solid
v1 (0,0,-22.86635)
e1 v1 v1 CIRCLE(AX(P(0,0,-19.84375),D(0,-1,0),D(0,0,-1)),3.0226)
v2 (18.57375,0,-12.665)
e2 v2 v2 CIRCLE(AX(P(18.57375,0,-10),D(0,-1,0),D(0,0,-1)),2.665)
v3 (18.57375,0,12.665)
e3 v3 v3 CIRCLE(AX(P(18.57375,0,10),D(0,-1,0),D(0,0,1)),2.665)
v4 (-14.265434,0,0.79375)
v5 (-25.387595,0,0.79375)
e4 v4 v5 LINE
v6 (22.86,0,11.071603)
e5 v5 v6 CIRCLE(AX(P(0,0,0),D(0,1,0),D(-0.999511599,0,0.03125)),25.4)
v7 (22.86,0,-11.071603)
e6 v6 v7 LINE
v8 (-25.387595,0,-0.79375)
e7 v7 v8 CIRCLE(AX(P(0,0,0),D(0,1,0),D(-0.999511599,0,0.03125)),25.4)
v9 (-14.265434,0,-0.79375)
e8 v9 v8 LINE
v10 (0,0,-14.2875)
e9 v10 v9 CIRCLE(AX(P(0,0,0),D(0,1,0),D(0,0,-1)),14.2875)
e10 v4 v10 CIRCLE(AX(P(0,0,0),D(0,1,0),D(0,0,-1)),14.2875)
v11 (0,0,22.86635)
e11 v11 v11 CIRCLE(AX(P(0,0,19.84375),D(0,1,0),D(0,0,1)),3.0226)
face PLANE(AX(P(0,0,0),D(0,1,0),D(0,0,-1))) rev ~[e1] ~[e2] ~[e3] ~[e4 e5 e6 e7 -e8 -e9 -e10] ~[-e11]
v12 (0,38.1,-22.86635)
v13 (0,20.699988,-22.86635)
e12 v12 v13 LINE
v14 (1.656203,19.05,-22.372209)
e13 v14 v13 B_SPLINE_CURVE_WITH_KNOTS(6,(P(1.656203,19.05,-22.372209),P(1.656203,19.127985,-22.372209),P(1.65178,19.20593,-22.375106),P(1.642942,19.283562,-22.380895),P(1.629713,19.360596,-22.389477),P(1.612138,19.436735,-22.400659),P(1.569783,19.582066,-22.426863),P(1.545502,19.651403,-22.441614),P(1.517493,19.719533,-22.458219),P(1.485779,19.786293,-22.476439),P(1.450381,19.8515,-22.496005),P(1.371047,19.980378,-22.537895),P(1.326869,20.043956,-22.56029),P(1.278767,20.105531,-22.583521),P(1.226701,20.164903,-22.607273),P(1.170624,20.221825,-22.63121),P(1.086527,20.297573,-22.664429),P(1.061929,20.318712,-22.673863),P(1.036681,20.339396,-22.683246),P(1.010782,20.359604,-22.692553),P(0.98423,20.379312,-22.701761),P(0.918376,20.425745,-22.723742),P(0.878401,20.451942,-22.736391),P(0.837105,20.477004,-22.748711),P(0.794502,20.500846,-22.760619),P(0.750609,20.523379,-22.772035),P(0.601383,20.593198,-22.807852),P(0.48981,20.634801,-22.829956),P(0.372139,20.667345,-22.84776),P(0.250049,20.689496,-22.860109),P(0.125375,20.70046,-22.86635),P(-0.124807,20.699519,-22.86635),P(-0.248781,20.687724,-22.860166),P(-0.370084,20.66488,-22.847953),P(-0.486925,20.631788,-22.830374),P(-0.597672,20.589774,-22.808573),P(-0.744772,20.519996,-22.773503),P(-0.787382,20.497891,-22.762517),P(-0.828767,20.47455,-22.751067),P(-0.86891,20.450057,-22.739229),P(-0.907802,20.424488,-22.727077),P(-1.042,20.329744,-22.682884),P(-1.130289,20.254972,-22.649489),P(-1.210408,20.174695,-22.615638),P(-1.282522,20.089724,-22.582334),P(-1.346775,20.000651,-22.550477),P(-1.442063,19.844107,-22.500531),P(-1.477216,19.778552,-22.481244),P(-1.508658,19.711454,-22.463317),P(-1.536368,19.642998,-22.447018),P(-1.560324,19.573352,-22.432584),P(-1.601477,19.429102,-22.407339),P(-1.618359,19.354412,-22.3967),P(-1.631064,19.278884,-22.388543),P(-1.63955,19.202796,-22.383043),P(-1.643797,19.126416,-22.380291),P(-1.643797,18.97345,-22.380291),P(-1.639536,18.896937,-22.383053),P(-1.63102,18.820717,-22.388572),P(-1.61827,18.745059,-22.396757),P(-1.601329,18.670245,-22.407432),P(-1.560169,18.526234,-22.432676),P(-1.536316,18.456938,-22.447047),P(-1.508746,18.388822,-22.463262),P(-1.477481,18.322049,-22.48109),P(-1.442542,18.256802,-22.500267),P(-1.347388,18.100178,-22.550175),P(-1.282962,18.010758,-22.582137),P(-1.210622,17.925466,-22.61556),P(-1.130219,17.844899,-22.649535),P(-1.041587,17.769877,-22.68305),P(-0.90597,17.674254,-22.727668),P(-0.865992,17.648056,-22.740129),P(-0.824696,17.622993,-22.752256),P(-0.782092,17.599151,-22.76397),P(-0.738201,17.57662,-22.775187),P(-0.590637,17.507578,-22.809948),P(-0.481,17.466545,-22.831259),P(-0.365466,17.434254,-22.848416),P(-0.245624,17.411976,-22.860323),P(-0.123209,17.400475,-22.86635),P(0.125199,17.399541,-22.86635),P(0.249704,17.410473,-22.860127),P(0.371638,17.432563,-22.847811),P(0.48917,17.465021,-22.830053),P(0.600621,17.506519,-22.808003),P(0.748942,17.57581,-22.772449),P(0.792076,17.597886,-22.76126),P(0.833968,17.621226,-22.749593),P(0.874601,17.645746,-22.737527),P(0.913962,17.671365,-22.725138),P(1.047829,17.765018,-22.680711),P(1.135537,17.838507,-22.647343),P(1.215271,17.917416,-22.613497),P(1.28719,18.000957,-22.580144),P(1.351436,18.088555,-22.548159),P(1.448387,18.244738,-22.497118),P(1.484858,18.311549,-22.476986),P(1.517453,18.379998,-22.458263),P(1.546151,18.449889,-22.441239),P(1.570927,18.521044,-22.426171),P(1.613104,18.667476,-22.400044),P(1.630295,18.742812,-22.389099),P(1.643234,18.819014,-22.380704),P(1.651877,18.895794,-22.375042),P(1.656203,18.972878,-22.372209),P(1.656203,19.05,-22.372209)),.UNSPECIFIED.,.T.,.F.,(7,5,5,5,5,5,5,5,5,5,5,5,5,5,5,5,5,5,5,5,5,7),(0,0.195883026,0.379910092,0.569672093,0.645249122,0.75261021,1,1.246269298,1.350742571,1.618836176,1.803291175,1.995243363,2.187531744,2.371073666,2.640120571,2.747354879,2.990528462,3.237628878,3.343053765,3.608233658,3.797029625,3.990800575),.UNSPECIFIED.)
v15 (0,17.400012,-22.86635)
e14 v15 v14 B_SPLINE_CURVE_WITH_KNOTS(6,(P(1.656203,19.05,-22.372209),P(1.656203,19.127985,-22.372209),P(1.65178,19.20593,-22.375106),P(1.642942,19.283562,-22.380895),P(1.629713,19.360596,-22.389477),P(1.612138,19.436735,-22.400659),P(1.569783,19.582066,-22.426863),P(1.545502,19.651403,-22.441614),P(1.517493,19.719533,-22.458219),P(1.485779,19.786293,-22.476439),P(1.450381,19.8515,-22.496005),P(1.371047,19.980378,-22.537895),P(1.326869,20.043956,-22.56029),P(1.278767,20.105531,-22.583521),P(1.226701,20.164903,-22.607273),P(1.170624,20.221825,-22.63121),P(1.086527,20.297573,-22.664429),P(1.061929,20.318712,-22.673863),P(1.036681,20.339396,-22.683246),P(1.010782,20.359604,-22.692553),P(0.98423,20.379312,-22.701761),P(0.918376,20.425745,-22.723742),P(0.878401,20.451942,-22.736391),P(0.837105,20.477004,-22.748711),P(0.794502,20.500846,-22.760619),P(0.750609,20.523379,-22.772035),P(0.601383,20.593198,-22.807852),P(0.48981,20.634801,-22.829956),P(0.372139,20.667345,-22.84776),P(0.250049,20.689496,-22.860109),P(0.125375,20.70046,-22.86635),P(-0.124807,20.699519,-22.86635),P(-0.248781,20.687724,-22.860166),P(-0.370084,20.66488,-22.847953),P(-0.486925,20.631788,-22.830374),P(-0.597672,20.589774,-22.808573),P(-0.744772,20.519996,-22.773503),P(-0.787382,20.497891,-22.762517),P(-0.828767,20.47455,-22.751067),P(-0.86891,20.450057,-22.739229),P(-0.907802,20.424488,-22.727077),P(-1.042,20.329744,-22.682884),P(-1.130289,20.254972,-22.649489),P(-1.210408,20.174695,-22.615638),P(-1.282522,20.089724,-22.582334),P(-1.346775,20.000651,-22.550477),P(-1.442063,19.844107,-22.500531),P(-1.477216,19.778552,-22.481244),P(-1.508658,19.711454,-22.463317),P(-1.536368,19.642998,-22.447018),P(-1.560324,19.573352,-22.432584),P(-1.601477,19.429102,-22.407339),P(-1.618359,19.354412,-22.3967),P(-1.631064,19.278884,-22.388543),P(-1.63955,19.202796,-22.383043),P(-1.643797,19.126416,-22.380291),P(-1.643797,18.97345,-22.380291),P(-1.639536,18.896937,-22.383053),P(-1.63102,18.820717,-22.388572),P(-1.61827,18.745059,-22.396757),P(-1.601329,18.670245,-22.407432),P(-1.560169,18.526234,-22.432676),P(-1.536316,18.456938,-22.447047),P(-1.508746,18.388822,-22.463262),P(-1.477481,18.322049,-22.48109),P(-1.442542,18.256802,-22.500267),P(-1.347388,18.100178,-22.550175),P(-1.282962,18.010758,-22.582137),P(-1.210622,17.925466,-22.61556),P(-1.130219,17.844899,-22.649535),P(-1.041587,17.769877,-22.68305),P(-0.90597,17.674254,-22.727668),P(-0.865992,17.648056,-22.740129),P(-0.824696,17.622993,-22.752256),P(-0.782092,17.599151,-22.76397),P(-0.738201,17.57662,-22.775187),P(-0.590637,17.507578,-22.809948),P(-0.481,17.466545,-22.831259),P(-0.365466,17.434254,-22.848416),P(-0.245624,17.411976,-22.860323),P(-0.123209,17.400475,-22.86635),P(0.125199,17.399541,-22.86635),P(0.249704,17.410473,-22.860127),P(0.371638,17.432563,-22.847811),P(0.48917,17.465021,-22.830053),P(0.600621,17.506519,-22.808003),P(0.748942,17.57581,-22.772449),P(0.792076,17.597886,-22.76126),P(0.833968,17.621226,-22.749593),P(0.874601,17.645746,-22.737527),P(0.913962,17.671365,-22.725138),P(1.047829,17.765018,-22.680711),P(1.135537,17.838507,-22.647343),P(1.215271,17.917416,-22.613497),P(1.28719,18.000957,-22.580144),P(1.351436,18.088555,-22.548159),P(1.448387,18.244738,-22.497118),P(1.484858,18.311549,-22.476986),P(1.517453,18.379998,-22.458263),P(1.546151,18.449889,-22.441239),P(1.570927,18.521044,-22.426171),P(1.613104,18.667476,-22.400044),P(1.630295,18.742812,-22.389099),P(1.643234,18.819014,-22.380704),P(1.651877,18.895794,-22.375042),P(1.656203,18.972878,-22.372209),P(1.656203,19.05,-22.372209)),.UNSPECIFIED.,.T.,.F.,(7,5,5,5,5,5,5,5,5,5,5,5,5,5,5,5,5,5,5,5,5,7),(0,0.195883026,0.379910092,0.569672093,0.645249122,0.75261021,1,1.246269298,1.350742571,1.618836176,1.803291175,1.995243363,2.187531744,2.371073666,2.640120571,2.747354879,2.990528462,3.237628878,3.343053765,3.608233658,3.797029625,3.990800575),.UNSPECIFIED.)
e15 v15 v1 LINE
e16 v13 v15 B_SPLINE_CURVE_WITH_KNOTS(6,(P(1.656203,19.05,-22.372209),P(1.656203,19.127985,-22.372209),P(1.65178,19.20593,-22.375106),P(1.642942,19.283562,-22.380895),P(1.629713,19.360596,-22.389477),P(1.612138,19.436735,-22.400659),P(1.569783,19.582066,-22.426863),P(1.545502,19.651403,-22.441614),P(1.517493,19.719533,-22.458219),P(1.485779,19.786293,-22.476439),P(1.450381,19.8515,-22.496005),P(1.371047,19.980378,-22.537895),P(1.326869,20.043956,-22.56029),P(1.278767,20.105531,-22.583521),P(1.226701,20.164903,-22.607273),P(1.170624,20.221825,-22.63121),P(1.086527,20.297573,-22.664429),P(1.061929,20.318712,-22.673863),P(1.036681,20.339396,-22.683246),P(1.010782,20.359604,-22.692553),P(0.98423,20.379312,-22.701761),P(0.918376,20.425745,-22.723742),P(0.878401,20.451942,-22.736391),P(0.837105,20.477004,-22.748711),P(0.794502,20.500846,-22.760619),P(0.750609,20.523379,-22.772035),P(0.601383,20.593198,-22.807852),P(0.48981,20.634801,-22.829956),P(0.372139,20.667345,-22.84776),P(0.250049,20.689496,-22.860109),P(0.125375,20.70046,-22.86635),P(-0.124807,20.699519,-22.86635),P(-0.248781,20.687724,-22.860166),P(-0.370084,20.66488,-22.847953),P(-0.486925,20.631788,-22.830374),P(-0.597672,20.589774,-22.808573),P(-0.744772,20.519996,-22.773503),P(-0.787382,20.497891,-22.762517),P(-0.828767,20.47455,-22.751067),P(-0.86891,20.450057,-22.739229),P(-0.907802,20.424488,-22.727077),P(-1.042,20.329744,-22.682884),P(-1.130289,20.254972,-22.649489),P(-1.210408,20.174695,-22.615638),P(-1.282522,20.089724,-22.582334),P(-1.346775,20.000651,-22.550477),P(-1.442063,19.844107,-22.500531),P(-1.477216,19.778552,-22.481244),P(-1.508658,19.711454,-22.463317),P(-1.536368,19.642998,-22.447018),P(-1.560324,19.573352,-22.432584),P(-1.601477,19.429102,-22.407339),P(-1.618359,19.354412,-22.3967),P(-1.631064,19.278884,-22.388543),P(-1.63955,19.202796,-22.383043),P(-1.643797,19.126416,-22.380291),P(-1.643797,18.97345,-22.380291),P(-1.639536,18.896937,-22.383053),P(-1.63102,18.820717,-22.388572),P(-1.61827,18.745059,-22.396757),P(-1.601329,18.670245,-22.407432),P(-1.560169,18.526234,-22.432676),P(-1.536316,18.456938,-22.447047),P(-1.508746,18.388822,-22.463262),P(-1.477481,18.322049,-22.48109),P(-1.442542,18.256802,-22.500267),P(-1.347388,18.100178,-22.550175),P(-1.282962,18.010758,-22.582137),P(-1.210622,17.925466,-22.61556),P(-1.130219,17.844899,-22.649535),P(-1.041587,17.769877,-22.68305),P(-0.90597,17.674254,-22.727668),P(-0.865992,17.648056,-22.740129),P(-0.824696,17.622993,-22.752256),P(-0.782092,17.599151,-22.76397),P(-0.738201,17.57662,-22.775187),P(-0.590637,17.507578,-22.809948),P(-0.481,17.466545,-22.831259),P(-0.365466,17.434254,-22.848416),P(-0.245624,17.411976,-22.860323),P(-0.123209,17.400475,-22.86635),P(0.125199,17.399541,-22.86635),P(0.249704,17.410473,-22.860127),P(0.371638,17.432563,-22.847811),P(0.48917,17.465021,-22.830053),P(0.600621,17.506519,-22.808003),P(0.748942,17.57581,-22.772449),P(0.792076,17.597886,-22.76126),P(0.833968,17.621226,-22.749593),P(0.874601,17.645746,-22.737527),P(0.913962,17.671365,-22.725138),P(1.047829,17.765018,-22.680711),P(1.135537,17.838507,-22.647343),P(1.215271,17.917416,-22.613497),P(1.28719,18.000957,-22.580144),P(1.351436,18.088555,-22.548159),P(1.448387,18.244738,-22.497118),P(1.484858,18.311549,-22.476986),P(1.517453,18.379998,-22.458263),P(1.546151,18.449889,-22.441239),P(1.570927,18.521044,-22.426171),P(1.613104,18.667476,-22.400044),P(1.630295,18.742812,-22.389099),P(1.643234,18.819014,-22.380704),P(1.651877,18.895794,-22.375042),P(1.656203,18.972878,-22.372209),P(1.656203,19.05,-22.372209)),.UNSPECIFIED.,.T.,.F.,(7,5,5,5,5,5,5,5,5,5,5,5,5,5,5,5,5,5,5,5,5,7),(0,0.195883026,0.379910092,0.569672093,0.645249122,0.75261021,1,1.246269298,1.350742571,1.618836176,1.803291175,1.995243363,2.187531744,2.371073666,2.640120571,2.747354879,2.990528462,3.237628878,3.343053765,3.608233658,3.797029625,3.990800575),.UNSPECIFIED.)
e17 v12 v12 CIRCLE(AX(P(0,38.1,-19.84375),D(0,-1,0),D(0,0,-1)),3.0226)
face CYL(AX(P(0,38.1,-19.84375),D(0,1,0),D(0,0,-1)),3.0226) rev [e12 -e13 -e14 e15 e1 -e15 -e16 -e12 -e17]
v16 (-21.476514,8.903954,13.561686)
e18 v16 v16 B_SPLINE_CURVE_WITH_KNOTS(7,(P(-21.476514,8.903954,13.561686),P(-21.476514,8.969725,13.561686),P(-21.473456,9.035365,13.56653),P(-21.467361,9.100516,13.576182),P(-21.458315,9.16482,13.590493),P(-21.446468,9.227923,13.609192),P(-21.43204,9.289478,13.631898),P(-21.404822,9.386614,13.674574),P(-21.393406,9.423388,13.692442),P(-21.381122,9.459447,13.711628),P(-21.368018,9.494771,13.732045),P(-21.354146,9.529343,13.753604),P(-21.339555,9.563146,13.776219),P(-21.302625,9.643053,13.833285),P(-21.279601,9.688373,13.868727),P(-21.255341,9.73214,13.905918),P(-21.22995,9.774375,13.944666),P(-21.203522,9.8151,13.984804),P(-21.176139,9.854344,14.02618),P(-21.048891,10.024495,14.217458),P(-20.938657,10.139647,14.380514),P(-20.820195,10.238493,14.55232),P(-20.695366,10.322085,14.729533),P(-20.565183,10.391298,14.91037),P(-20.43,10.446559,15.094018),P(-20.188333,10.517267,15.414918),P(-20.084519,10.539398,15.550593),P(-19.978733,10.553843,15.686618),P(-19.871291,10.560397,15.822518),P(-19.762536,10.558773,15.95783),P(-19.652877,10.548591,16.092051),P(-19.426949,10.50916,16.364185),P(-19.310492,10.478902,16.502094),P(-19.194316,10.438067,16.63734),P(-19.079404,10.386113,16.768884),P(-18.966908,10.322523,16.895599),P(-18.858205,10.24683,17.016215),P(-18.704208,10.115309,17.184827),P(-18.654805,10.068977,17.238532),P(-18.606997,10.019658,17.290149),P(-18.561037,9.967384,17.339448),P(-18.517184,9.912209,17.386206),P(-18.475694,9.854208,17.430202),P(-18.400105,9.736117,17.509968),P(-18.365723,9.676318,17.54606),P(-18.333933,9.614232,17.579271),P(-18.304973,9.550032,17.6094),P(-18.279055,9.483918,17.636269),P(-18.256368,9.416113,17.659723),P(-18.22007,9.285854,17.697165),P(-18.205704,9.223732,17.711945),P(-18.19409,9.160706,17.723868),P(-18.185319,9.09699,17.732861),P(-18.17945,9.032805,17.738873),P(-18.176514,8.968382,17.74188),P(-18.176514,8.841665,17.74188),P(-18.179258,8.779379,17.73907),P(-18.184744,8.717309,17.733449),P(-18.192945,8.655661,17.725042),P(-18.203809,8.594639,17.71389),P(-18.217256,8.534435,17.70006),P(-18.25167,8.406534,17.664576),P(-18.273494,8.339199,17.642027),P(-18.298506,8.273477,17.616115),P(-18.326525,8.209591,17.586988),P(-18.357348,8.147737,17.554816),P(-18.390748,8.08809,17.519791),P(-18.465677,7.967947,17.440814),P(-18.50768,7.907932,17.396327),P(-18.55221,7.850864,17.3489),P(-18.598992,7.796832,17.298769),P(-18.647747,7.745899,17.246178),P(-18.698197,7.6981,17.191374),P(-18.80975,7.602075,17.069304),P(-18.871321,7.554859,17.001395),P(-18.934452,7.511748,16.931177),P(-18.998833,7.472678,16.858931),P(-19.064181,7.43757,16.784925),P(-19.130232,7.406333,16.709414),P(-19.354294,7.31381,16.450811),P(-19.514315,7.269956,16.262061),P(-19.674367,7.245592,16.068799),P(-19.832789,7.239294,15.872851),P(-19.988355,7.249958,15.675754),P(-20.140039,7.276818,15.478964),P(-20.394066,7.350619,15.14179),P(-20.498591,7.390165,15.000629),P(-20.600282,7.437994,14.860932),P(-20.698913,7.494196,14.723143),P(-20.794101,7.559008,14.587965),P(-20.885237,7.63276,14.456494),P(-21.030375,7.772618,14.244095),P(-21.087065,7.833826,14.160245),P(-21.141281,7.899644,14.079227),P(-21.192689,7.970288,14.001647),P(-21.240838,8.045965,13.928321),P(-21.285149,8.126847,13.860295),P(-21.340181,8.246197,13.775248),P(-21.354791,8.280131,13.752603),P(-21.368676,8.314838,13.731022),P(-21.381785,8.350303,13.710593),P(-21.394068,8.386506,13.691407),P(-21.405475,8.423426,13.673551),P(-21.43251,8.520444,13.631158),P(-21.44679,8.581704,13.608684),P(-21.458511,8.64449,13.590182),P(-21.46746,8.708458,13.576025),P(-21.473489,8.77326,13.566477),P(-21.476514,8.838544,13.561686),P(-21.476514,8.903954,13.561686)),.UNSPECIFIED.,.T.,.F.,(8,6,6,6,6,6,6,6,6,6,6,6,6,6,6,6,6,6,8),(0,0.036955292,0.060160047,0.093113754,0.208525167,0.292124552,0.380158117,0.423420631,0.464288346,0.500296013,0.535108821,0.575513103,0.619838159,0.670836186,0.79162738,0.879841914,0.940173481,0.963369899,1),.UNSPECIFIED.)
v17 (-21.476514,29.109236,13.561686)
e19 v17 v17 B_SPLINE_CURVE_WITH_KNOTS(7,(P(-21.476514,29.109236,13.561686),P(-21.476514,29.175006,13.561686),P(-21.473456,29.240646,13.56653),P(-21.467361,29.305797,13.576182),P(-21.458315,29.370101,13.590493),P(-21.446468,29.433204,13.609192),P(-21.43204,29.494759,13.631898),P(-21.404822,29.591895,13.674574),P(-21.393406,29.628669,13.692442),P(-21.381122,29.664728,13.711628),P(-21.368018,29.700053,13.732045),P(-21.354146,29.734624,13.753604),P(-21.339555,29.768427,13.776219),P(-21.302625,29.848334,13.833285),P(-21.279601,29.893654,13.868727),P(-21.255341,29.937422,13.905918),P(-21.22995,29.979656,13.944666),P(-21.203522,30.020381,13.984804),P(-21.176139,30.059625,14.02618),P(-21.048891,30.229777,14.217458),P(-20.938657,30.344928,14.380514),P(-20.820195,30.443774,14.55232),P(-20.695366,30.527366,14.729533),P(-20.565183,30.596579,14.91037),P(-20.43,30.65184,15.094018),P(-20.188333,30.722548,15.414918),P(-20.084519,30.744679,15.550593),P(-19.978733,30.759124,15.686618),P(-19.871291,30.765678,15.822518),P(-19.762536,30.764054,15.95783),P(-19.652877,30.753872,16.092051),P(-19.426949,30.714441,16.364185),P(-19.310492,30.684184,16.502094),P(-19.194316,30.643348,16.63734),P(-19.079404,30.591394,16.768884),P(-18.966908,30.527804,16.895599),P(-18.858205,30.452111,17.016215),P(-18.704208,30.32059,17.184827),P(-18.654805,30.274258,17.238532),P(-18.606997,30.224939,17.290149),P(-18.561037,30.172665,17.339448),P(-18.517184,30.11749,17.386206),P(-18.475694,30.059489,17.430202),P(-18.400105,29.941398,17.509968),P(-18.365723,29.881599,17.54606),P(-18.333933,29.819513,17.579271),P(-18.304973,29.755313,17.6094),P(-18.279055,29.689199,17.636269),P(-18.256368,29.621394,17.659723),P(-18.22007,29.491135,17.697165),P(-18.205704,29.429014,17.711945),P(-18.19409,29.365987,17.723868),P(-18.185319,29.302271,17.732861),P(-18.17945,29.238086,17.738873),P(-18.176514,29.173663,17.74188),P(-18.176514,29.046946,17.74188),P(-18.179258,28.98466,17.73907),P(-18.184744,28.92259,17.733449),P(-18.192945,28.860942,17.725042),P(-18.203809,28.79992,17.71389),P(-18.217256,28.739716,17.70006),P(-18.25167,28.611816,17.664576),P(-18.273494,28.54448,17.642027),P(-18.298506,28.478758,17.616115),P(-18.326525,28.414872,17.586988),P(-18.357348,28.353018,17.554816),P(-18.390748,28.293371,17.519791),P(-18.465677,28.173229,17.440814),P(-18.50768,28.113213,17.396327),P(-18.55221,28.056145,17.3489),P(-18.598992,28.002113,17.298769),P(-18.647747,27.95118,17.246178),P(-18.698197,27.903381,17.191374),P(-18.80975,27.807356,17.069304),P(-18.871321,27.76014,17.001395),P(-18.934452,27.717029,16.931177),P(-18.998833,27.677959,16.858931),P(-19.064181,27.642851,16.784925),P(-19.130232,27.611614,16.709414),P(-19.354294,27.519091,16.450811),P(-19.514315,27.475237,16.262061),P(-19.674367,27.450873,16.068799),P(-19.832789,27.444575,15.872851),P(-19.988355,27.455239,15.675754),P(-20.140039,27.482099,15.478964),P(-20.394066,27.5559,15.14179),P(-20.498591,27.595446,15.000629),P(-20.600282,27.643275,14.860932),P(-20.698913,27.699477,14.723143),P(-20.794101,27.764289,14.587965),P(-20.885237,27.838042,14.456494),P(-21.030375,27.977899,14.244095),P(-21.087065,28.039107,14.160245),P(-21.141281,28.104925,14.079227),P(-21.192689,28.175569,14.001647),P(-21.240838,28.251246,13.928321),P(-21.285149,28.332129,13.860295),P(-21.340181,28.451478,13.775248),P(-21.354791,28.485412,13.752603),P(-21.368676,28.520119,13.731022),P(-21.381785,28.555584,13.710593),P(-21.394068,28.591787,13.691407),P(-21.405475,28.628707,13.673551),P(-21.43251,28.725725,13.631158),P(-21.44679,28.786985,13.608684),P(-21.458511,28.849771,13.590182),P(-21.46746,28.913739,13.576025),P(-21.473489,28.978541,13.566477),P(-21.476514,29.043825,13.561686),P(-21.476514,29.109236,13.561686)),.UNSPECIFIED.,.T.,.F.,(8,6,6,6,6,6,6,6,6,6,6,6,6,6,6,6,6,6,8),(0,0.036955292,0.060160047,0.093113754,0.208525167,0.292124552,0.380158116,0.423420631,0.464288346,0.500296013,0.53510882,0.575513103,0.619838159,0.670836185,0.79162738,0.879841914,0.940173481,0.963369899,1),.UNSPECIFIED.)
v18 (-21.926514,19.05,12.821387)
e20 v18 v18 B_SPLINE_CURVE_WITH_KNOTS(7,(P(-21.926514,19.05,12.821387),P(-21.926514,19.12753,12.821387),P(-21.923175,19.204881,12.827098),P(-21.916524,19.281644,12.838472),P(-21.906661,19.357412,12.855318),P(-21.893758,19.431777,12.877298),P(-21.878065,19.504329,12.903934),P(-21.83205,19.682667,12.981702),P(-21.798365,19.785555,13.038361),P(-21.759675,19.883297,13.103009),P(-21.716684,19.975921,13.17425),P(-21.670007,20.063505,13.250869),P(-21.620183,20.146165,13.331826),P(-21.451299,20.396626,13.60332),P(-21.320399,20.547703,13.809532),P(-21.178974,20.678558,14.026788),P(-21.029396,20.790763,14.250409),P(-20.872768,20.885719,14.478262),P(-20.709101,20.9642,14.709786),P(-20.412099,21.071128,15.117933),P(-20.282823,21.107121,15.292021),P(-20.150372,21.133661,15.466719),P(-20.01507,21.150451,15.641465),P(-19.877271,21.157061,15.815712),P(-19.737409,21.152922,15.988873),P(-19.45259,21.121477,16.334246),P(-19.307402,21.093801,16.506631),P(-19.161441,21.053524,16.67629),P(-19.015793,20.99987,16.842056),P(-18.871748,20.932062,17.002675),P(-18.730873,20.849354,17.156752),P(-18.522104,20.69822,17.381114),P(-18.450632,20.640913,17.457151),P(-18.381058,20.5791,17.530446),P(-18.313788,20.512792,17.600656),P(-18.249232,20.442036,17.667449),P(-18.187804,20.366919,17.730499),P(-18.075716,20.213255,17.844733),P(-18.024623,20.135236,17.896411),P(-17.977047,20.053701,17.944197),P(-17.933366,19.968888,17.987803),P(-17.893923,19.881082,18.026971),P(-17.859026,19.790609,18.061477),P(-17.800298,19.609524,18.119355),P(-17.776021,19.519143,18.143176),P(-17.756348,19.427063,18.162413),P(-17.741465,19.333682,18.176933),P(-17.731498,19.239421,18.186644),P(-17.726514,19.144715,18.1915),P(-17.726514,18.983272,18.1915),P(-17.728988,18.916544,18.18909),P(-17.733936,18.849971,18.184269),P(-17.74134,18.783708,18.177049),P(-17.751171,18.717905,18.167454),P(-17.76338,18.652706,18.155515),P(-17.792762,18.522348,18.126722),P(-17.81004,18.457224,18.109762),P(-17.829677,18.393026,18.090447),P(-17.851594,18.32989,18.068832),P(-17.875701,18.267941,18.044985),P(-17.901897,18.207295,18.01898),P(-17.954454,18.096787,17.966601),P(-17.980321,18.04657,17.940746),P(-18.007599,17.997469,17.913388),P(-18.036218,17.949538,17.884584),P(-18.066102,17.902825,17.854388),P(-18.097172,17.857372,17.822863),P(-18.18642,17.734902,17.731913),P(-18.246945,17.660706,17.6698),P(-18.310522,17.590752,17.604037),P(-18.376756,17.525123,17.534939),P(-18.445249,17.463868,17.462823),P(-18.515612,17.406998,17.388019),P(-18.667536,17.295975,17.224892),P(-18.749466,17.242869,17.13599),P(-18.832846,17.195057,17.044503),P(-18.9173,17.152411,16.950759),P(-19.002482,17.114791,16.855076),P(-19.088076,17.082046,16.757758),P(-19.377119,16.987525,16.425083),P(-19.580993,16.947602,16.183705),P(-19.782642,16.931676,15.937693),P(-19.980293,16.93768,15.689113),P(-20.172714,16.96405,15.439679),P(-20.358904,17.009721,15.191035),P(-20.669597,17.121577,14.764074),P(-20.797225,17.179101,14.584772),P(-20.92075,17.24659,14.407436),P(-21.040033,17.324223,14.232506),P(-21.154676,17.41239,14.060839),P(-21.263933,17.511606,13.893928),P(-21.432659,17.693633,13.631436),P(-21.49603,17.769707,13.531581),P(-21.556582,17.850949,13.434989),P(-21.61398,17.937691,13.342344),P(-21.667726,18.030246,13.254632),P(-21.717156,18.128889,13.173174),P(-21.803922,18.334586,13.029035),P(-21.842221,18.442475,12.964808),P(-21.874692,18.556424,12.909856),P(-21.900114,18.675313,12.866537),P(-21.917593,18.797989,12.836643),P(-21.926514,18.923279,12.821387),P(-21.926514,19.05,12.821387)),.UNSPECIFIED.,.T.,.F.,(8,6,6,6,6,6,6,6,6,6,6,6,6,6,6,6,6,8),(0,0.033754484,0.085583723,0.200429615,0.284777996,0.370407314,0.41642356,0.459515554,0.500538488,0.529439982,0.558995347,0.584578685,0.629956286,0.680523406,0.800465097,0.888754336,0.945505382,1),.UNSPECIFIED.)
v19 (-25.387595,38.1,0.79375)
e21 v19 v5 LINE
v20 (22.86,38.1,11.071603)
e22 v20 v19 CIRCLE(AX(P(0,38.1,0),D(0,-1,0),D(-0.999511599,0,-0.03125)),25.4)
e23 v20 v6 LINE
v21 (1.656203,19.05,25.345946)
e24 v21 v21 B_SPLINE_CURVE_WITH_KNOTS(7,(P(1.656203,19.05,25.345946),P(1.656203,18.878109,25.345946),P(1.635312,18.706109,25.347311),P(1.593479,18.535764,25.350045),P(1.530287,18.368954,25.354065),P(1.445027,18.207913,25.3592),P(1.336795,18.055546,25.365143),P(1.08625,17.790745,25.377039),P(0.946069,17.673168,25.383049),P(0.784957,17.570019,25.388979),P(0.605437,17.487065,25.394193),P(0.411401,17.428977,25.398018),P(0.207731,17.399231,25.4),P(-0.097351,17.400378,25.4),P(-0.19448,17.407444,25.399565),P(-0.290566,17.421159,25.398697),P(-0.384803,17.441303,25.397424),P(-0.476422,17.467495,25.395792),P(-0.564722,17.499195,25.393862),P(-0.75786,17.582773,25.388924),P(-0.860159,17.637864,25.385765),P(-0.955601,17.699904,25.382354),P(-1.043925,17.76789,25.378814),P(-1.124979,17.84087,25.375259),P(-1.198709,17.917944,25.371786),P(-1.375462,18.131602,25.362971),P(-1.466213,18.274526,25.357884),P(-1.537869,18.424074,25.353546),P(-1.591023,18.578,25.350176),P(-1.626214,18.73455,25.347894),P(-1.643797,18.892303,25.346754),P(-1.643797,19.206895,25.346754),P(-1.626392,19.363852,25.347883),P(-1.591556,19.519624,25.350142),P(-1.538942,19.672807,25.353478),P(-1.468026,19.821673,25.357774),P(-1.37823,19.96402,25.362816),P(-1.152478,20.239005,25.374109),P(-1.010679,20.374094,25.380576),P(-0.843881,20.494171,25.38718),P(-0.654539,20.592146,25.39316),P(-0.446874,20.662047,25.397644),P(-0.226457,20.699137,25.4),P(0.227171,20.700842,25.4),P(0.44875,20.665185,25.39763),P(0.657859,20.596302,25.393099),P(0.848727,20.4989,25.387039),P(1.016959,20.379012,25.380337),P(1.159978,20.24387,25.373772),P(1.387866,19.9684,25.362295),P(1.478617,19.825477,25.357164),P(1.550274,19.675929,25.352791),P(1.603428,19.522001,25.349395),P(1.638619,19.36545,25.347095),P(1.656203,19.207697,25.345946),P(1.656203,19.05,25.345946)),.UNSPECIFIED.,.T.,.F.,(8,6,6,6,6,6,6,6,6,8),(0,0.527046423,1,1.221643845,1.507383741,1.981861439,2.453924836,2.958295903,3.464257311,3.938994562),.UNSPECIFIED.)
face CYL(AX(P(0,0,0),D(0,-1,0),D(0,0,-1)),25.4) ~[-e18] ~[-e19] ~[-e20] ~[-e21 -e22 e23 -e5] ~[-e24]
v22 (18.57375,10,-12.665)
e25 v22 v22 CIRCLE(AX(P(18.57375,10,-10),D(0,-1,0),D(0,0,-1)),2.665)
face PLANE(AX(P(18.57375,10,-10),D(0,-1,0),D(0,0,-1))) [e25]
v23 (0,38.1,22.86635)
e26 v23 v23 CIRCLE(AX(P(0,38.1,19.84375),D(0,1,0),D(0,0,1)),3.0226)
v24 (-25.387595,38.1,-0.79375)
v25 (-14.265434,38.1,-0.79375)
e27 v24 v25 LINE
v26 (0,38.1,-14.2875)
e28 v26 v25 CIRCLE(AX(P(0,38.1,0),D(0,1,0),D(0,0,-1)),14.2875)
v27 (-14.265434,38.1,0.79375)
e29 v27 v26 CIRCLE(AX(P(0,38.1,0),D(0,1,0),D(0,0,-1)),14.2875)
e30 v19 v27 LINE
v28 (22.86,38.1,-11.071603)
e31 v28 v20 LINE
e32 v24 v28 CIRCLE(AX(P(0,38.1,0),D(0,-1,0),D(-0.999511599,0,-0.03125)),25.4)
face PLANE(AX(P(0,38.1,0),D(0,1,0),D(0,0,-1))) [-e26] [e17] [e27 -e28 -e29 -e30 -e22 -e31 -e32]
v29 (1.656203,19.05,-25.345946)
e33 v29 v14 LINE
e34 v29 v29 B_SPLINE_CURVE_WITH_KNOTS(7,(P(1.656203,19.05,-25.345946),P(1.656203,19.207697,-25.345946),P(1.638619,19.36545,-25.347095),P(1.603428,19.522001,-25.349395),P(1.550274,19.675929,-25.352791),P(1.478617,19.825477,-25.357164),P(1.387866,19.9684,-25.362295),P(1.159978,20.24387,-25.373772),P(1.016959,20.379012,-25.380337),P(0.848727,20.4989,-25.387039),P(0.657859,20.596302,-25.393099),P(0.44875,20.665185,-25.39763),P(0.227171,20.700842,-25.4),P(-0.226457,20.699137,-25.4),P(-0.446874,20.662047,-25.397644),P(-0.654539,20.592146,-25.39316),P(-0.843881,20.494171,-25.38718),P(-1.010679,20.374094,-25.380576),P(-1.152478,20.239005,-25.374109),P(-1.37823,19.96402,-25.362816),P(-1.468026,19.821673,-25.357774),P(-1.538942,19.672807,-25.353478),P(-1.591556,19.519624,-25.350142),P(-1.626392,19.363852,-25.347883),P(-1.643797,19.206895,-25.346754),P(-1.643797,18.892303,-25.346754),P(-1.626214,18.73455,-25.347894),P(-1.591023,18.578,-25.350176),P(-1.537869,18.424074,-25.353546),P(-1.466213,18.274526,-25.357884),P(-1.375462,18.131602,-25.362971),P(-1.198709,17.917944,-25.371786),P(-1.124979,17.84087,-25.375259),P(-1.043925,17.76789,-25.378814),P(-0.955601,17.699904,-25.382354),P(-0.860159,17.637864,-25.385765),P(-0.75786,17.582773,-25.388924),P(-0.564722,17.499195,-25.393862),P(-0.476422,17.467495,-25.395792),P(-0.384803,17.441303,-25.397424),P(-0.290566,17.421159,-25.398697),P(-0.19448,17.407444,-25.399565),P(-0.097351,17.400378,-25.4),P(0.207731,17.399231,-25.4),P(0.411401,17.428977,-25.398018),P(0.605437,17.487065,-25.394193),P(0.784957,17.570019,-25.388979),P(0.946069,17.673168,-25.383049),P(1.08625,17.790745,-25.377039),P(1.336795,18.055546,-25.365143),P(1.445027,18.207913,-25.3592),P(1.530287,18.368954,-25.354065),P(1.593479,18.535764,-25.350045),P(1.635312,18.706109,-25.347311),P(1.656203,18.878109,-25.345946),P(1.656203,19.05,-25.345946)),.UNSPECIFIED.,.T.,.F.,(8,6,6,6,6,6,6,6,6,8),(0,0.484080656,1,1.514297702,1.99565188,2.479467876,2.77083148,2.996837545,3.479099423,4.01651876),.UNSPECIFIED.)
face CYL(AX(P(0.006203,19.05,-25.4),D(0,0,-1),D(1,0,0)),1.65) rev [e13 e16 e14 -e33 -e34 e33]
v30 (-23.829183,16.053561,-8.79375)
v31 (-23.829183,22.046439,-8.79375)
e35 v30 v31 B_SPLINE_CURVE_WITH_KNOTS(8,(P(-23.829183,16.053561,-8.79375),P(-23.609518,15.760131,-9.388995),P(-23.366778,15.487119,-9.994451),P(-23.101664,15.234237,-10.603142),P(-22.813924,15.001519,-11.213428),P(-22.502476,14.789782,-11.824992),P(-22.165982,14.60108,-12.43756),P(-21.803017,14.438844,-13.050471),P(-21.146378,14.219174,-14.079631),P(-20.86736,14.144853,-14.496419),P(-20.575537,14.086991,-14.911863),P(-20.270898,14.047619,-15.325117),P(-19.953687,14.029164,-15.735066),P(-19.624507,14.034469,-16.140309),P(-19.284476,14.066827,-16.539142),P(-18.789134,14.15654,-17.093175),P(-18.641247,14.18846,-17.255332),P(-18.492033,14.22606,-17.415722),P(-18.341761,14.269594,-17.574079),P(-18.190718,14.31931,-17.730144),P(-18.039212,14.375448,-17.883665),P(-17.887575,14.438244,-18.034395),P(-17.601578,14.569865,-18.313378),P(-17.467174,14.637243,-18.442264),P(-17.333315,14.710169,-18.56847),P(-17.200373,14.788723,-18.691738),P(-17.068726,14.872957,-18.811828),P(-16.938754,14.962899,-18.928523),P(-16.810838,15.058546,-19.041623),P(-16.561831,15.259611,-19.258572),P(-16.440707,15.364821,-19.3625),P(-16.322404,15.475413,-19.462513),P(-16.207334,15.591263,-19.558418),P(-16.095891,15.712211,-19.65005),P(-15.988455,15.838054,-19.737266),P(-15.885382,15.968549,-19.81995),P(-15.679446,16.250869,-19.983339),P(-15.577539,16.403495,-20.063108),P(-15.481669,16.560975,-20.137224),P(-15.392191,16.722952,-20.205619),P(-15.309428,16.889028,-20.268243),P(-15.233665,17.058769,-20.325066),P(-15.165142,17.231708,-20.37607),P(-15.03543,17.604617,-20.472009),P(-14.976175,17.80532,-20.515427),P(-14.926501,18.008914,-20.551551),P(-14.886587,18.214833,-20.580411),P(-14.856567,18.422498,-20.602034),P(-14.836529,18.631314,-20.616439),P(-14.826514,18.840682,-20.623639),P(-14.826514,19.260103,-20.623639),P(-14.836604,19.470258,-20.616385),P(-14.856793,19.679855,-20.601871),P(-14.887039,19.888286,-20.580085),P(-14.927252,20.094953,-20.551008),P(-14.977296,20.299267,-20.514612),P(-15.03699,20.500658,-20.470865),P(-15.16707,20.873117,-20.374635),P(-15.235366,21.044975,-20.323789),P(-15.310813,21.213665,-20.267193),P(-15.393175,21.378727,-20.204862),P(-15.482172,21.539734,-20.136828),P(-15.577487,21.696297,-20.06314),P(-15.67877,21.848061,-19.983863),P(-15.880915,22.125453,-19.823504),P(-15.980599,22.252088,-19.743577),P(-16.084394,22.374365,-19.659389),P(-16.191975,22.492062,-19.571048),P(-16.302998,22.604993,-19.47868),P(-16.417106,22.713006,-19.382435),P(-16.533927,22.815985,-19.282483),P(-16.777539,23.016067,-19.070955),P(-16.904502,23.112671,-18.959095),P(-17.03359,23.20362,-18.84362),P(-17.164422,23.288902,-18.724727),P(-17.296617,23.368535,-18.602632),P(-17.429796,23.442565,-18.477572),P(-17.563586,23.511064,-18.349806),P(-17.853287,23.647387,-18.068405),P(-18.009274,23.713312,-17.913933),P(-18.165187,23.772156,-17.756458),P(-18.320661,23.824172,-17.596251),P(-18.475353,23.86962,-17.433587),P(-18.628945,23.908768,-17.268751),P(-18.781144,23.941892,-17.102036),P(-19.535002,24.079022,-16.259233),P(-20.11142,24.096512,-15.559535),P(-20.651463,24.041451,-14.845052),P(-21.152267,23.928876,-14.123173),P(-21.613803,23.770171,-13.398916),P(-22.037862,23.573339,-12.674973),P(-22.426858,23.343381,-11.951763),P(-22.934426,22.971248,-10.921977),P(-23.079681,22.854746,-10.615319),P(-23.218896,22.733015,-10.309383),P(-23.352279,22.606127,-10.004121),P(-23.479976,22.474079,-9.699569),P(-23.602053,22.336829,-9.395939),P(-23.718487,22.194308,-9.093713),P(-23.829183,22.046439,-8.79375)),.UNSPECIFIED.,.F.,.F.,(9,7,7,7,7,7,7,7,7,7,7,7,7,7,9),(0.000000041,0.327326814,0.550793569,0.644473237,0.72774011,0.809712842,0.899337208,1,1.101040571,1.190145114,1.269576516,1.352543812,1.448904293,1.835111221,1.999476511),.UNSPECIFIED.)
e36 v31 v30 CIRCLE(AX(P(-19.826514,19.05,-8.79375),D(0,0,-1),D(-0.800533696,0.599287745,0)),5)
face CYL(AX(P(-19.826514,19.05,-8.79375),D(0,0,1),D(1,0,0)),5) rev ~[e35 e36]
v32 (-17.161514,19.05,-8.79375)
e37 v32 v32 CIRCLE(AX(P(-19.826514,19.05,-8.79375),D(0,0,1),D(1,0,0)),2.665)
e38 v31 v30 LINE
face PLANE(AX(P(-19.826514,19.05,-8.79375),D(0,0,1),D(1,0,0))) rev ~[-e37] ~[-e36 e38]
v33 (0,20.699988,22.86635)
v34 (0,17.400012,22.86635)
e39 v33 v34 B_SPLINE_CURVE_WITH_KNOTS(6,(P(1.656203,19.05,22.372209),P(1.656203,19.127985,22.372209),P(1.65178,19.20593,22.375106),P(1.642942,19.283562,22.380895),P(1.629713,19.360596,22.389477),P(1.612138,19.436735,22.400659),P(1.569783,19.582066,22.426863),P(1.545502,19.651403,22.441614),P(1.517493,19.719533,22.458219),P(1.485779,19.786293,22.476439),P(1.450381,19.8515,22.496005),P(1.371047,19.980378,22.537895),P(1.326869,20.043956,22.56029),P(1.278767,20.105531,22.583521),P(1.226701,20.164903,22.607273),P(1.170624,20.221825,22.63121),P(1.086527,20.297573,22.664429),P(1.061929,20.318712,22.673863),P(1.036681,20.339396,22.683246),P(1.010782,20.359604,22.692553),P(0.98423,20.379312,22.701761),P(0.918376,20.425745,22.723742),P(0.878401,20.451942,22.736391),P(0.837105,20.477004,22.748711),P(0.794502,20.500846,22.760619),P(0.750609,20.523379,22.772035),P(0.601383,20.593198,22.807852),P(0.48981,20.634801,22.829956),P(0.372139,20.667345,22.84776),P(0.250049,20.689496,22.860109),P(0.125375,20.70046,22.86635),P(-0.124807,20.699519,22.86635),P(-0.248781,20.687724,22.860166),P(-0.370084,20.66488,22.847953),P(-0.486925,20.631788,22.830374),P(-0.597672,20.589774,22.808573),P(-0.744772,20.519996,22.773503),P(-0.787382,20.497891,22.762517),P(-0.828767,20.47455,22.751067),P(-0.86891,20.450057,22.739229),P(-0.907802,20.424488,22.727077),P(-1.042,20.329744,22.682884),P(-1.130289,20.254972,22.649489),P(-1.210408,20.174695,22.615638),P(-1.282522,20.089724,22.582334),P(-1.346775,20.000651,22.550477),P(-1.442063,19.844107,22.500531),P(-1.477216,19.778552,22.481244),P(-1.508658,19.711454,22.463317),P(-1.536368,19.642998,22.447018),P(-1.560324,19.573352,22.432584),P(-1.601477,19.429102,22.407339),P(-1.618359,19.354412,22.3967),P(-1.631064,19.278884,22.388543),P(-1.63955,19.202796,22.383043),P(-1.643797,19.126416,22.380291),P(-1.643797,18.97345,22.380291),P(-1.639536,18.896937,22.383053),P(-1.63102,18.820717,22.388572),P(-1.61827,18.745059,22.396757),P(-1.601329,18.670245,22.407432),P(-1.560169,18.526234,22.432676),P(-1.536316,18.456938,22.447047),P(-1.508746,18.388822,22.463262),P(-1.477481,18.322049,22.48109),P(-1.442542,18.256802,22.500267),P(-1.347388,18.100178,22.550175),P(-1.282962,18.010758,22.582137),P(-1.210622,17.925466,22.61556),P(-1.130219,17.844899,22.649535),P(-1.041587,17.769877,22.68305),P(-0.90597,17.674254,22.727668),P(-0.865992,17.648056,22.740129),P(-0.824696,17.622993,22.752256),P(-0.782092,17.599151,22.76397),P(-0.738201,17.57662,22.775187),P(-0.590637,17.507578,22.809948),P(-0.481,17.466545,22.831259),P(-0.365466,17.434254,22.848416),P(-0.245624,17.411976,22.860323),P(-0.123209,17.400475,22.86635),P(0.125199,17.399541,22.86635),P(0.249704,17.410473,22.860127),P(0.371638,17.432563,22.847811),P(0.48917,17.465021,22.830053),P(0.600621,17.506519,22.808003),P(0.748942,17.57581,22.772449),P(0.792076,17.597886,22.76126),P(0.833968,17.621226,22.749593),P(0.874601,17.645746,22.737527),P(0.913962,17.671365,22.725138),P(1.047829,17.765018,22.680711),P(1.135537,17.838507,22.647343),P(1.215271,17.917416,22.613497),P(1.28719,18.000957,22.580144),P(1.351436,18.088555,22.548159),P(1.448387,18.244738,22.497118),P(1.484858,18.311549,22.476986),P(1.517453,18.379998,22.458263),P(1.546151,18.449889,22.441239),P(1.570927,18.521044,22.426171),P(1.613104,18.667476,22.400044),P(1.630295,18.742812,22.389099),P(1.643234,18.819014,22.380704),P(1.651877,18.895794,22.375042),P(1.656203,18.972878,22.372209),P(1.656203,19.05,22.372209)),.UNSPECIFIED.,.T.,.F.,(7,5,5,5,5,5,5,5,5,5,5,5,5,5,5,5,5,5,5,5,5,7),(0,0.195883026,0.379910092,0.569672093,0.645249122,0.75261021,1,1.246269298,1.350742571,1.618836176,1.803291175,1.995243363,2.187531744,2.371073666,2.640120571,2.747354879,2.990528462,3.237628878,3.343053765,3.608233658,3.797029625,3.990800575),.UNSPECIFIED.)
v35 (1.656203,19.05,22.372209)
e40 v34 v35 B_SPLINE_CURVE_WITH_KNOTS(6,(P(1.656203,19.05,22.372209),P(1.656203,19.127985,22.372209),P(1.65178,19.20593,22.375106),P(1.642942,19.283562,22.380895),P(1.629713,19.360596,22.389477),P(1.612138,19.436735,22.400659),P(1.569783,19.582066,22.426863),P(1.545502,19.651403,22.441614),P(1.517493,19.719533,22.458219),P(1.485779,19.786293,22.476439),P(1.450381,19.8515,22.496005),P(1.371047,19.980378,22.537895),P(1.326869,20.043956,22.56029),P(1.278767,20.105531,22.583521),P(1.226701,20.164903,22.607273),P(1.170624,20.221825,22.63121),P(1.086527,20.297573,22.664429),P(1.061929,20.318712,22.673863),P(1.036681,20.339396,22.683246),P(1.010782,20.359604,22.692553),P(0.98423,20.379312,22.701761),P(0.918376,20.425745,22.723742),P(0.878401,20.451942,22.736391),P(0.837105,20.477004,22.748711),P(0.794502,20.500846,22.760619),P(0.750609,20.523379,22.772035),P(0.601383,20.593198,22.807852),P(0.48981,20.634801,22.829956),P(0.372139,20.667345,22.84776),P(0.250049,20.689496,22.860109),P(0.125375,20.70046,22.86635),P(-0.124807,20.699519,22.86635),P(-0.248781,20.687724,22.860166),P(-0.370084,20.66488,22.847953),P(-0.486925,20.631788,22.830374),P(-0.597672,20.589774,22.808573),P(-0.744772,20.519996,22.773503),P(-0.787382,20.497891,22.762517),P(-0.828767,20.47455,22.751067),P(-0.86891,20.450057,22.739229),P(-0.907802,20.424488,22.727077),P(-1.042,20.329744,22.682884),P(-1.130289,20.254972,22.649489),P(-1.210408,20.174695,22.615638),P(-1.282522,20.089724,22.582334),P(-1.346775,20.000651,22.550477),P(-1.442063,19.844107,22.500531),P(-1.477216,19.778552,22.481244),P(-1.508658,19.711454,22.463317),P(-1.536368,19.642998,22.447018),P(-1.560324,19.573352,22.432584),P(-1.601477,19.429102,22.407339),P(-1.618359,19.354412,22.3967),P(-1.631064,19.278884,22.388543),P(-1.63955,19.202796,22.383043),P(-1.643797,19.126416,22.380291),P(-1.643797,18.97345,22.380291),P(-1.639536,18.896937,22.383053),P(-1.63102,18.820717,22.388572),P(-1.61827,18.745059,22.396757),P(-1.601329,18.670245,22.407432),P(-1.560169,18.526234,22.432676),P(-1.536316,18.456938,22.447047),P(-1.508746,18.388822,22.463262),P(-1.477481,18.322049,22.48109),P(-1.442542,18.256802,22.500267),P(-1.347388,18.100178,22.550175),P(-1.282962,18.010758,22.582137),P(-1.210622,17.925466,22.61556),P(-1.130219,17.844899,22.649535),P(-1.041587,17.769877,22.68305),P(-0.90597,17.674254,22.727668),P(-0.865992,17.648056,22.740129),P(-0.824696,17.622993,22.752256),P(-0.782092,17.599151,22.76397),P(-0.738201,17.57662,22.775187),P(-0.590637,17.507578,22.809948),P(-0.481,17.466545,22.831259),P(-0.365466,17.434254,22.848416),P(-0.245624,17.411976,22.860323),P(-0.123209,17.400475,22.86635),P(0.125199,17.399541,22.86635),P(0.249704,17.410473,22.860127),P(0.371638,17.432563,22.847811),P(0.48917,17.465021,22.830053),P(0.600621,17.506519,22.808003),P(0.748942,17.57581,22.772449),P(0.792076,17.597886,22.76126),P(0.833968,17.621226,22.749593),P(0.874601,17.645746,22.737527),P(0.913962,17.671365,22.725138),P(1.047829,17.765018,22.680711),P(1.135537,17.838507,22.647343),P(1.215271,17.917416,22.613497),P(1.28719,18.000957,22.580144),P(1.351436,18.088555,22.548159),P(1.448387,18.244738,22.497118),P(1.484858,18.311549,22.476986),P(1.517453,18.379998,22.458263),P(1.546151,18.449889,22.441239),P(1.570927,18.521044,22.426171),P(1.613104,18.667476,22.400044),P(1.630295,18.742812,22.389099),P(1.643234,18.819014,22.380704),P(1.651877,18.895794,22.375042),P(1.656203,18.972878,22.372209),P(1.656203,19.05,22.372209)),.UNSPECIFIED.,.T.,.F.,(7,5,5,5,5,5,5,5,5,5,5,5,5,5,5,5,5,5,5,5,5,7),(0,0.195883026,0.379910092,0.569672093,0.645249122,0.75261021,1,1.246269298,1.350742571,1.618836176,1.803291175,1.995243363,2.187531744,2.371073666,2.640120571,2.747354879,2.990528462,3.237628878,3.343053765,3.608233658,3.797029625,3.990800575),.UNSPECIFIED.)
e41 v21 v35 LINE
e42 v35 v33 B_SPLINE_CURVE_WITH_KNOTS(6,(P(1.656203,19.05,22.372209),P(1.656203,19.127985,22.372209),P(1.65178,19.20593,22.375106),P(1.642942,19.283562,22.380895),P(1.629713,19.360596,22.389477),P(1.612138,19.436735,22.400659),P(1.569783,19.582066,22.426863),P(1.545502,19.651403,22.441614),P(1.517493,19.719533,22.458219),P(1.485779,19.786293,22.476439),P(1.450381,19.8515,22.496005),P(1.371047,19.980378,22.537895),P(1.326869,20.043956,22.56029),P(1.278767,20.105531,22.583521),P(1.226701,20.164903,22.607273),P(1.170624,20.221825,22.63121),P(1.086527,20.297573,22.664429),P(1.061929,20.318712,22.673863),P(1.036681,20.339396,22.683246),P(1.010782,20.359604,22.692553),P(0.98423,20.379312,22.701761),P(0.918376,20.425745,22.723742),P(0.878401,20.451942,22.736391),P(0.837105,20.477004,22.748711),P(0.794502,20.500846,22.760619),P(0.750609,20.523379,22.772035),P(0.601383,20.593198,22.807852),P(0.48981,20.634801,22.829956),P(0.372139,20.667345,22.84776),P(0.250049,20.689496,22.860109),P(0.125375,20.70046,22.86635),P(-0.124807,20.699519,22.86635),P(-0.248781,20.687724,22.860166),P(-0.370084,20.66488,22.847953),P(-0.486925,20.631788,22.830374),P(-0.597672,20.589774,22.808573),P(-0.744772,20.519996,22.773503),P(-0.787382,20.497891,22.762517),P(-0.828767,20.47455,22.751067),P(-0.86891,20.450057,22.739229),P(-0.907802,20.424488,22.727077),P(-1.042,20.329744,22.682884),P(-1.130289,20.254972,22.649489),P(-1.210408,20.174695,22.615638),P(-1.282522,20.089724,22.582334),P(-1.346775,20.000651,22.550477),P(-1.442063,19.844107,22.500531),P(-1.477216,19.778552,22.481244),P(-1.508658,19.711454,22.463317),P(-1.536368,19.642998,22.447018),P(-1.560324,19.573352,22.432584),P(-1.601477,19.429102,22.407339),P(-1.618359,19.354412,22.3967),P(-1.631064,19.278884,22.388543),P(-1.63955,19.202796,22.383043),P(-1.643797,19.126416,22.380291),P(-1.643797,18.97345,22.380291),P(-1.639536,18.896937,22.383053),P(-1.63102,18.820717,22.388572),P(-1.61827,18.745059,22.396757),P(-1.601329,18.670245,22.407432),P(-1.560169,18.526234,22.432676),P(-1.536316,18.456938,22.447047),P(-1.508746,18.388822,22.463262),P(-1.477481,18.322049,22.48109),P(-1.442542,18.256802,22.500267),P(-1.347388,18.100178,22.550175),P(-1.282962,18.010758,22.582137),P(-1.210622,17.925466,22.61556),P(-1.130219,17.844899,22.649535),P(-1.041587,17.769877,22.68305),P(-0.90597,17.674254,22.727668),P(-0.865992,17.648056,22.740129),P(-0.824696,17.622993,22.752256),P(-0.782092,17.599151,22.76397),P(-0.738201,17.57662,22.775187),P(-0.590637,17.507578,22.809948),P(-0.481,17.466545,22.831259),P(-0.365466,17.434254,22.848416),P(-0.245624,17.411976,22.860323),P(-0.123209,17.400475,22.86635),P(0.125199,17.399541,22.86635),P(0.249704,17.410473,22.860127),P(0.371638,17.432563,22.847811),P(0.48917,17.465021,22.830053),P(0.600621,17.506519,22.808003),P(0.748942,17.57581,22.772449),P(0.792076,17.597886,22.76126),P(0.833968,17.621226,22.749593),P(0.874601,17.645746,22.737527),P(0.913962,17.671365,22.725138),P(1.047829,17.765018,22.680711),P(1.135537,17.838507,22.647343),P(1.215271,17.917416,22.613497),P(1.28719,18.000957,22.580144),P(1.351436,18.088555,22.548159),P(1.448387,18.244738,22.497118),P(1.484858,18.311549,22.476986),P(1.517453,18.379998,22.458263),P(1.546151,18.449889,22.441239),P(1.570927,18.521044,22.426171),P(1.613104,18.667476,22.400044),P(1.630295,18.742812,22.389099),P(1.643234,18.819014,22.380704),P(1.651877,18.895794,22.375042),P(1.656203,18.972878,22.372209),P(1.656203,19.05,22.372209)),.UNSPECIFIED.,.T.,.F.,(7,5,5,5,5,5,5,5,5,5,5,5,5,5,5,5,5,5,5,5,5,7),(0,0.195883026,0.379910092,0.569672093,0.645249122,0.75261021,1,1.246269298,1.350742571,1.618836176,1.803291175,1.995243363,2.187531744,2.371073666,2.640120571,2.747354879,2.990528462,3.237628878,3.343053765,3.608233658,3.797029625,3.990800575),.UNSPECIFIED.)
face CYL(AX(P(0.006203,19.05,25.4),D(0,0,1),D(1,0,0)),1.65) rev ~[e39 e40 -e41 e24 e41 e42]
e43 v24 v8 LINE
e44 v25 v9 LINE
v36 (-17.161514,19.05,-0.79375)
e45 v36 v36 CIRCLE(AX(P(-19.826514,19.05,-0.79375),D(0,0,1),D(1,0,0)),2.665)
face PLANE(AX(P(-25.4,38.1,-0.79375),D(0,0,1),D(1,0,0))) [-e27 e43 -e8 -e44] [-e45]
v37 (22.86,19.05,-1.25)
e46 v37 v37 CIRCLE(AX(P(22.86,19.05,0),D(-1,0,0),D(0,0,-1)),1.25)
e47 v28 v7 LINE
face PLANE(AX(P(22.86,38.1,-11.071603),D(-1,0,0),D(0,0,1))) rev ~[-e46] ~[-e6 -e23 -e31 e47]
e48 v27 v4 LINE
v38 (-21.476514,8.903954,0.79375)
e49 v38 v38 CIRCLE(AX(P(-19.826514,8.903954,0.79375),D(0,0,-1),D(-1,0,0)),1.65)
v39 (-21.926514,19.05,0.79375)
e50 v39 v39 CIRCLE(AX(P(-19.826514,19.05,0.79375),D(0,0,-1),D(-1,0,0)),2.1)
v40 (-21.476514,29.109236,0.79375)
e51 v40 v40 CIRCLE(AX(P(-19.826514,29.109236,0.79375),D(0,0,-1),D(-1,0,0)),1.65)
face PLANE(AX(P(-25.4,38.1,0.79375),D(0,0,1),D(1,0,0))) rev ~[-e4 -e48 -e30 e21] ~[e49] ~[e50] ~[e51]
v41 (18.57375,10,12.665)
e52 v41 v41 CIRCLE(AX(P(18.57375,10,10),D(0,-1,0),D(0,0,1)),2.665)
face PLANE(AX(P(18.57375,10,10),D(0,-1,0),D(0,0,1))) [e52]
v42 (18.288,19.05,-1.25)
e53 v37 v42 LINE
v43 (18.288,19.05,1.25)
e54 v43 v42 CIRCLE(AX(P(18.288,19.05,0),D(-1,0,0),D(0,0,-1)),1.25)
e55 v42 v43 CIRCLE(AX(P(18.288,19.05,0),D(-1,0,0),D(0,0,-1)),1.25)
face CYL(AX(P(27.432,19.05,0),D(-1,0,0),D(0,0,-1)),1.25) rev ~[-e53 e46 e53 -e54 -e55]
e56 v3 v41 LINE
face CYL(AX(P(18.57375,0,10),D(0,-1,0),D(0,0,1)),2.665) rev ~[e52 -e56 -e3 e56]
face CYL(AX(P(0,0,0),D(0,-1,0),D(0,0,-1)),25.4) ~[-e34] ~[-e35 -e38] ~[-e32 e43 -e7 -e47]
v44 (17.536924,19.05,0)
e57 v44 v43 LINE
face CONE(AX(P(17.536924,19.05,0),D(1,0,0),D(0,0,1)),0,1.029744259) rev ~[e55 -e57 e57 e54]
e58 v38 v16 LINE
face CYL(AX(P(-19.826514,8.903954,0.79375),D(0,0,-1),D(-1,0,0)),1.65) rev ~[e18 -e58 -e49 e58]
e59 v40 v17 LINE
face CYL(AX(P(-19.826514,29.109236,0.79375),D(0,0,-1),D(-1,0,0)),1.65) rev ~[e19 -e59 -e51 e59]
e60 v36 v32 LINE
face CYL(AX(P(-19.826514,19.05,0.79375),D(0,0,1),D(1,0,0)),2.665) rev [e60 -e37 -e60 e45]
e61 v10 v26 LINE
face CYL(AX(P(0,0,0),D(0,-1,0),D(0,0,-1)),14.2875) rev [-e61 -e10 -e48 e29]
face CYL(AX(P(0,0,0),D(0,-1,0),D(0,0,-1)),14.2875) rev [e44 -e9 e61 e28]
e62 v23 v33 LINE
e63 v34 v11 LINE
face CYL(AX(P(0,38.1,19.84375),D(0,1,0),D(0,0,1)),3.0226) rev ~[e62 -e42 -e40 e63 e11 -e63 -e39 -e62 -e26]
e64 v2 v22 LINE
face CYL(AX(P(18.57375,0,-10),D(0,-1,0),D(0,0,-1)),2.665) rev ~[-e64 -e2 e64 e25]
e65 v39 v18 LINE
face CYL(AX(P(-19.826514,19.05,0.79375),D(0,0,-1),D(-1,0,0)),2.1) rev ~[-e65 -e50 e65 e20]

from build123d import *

# Parameters (mm, degrees)
SKETCH2_R                        = 25.4
SKETCH2_R_2                      = 14.2875
BOSS_EXTRUDE1_DEPTH              = 38.1
CUT_EXTRUDE1_REACH               = 54.363
SKETCH3_W                        = 25.4
SKETCH3_H                        = 1.5875
CUT_EXTRUDE2_REACH               = 54.363
SKETCH4_R                        = 3.0226
TAP_DRILL_FOR_M4X0_7_TAP1_REACH  = 61.824
TAP_DRILL_FOR_M4X0_7_TAP1_BORE_R = 1.65
CUT_EXTRUDE5_REACH               = 70.392
CUT_EXTRUDE5_END_RADIUS          = 3.0226
SKETCH11_R                       = 1.65
CUT_EXTRUDE6_REACH               = 54.363
TAP_DRILL_FOR_M3X0_5_TAP2_D      = 2.5
TAP_DRILL_FOR_M3X0_5_TAP2_DEPTH  = 4.572
TAP_DRILL_FOR_M3X0_5_TAP2_TIP    = 0.751075774
TAP_DRILL_FOR_M5X0_8_TAP1_REACH  = 55.583
TAP_DRILL_FOR_M5X0_8_TAP1_BORE_R = 2.1
SKETCH15_R                       = 2.665
CUT_EXTRUDE7_DEPTH               = 53.7470617
CUT_EXTRUDE8_REACH               = 59.143
SKETCH19_R                       = 5
SKETCH21_R                       = 2.665
CUT_EXTRUDE10_DEPTH              = 10


with BuildPart() as part:
    # Sketch2 → Boss-Extrude1 (new body)
    with BuildSketch(Plane(origin=(0, 0, 0), x_dir=(1, 0, 0), z_dir=(0, 1, 0))):
        with Locations(Location((0, 0, 0), (0, 0, 90))):
            Circle(SKETCH2_R)
        with Locations(Location((0, 0, 0), (0, 0, 90))):
            Circle(SKETCH2_R_2, mode=Mode.SUBTRACT)
    extrude(amount=BOSS_EXTRUDE1_DEPTH)

    # Sketch3 → Cut-Extrude1 (cut, up to next)
    with BuildSketch(Plane(origin=(0, 38.1, 0), x_dir=(1, 0, 0), z_dir=(0, 1, 0)), mode=Mode.PRIVATE) as cut_extrude1_sk1:
        with Locations((-12.7, 0)):
            Rectangle(SKETCH3_W, SKETCH3_H)
    cut_extrude1_tool1 = extrude(cut_extrude1_sk1.sketch, amount=-CUT_EXTRUDE1_REACH, mode=Mode.PRIVATE) & part.part
    add(cut_extrude1_tool1.solids().sort_by_distance((-12.7, 38.1, 0))[0], mode=Mode.SUBTRACT)

    # Sketch4 → Cut-Extrude2 (cut, up to next)
    with BuildSketch(Plane(origin=(0, 38.1, 0), x_dir=(1, 0, 0), z_dir=(0, 1, 0)), mode=Mode.PRIVATE) as cut_extrude2_sk1:
        with Locations(Location((0, -19.84375, 0), (0, 0, 270))):
            Circle(SKETCH4_R)
    cut_extrude2_tool1 = extrude(cut_extrude2_sk1.sketch, amount=-CUT_EXTRUDE2_REACH, mode=Mode.PRIVATE) & part.part
    cut_extrude2 = cut_extrude2_tool1.solids().sort_by_distance((0, 38.1, 19.84375))[0]
    add(cut_extrude2, mode=Mode.SUBTRACT)

    # Tap Drill for M4x0.7 Tap1 bore (on position points) → Tap Drill for M4x0.7 Tap1 (cut, up to next)
    with BuildSketch(Plane(origin=(-19.826514488, 29.109235595, 0.79375), x_dir=(-1, 0, 0), z_dir=(0, 0, -1)), mode=Mode.PRIVATE) as tap_drill_for_m4x0_7_tap1_sk1:
        Circle(TAP_DRILL_FOR_M4X0_7_TAP1_BORE_R)
    tap_drill_for_m4x0_7_tap1_tool1 = extrude(tap_drill_for_m4x0_7_tap1_sk1.sketch, amount=-TAP_DRILL_FOR_M4X0_7_TAP1_REACH, mode=Mode.PRIVATE) & part.part
    # Tap Drill for M4x0.7 Tap1 bore (on position points) → Tap Drill for M4x0.7 Tap1 (cut, up to next)
    with BuildSketch(Plane(origin=(-19.826514488, 29.109235595, 0.79375), x_dir=(-1, 0, 0), z_dir=(0, 0, -1)), mode=Mode.PRIVATE) as tap_drill_for_m4x0_7_tap1_sk2:
        with Locations((0, -20.205281104)):
            Circle(TAP_DRILL_FOR_M4X0_7_TAP1_BORE_R)
    tap_drill_for_m4x0_7_tap1_tool2 = extrude(tap_drill_for_m4x0_7_tap1_sk2.sketch, amount=-TAP_DRILL_FOR_M4X0_7_TAP1_REACH, mode=Mode.PRIVATE) & part.part
    add(tap_drill_for_m4x0_7_tap1_tool1.solids().sort_by_distance((-19.826514, 29.109236, 0.79375))[0], mode=Mode.SUBTRACT)
    add(tap_drill_for_m4x0_7_tap1_tool2.solids().sort_by_distance((-19.826514, 8.903954, 0.79375))[0], mode=Mode.SUBTRACT)

    # Cut-Extrude5: up to this cylinder (the profile starts outside it)
    cut_extrude5_end = Plane(origin=(0, 19.05, 19.84375), z_dir=(0, 1, 0)) * Cylinder(CUT_EXTRUDE5_END_RADIUS, 147.8292, mode=Mode.PRIVATE)
    # Sketch11 → Cut-Extrude5 (cut, up to the surface)
    with BuildSketch(Plane.XY.offset(25.4), mode=Mode.PRIVATE) as cut_extrude5_sk1:
        with Locations((0.006202687, 19.05)):
            Circle(SKETCH11_R)
    cut_extrude5_tool1 = extrude(cut_extrude5_sk1.sketch, amount=-CUT_EXTRUDE5_REACH, mode=Mode.PRIVATE) - cut_extrude5_end
    cut_extrude5 = cut_extrude5_tool1.solids().sort_by_distance((0.006203, 19.05, 25.4))[0]
    add(cut_extrude5, mode=Mode.SUBTRACT)

    # Mirror1: Cut-Extrude2, Cut-Extrude5 across plane
    add(cut_extrude2.mirror(Plane.XY), mode=Mode.SUBTRACT)
    add(cut_extrude5.mirror(Plane.XY), mode=Mode.SUBTRACT)

    # Sketch12 → Cut-Extrude6 (cut, up to next)
    with BuildSketch(Plane(origin=(0, 38.1, 0), x_dir=(1, 0, 0), z_dir=(0, 1, 0)), mode=Mode.PRIVATE) as cut_extrude6_sk1:
        with BuildLine():
            Line((22.86, 11.071603317), (22.86, -11.071603317))
            ThreePointArc((22.86, -11.071603317), (25.4, 0), (22.86, 11.071603317))
        make_face()
    cut_extrude6_tool1 = extrude(cut_extrude6_sk1.sketch, amount=-CUT_EXTRUDE6_REACH, mode=Mode.PRIVATE) & part.part
    add(cut_extrude6_tool1.solids().sort_by_distance((23.880484, 38.1, 0))[0], mode=Mode.SUBTRACT)

    # Tap Drill for M3x0.5 Tap2
    with Locations(Plane(origin=(22.86, 19.05, 0), x_dir=(0, 0, 1), z_dir=(1, 0, 0))):
        with Locations((0, 0)):
            Hole(TAP_DRILL_FOR_M3X0_5_TAP2_D / 2, depth=TAP_DRILL_FOR_M3X0_5_TAP2_DEPTH)
            with Locations((0, 0, -(TAP_DRILL_FOR_M3X0_5_TAP2_DEPTH + TAP_DRILL_FOR_M3X0_5_TAP2_TIP / 2))):  # 118° drill point
                Cone(0, TAP_DRILL_FOR_M3X0_5_TAP2_D / 2, TAP_DRILL_FOR_M3X0_5_TAP2_TIP, mode=Mode.SUBTRACT)

    # Tap Drill for M5x0.8 Tap1 bore (on position points) → Tap Drill for M5x0.8 Tap1 (cut, up to next)
    with BuildSketch(Plane(origin=(-19.826514488, 19.05, 0.79375), x_dir=(-1, 0, 0), z_dir=(0, 0, -1)), mode=Mode.PRIVATE) as tap_drill_for_m5x0_8_tap1_sk1:
        Circle(TAP_DRILL_FOR_M5X0_8_TAP1_BORE_R)
    tap_drill_for_m5x0_8_tap1_tool1 = extrude(tap_drill_for_m5x0_8_tap1_sk1.sketch, amount=-TAP_DRILL_FOR_M5X0_8_TAP1_REACH, mode=Mode.PRIVATE) & part.part
    add(tap_drill_for_m5x0_8_tap1_tool1.solids().sort_by_distance((-19.826514, 19.05, 0.79375))[0], mode=Mode.SUBTRACT)

    # Sketch15 → Cut-Extrude7 (cut, through all)
    with BuildSketch(Plane(origin=(0, 0, 0.79375), x_dir=(-1, 0, 0), z_dir=(0, 0, -1))):
        with Locations(Location((19.826514488, 19.05, 0), (0, 0, 180))):
            Circle(SKETCH15_R)
    extrude(amount=CUT_EXTRUDE7_DEPTH, mode=Mode.SUBTRACT)

    # Sketch19 → Cut-Extrude8 (cut, up to next)
    with BuildSketch(Plane.XY.offset(-8.79375), mode=Mode.PRIVATE) as cut_extrude8_sk1:
        with Locations((-19.826514488, 19.05)):
            Circle(SKETCH19_R)
    cut_extrude8_tool1 = extrude(cut_extrude8_sk1.sketch, amount=-CUT_EXTRUDE8_REACH, mode=Mode.PRIVATE) & part.part
    add(cut_extrude8_tool1.solids().sort_by_distance((-19.826514, 19.05, -8.79375))[0], mode=Mode.SUBTRACT)

    # Sketch21 → Cut-Extrude10 (cut)
    with BuildSketch(Plane.XZ):
        with Locations(Location((18.57375, -10, 0), (0, 0, 270))):
            Circle(SKETCH21_R)
        with Locations(Location((18.57375, 10, 0), (0, 0, 90))):
            Circle(SKETCH21_R)
    extrude(amount=-CUT_EXTRUDE10_DEPTH, mode=Mode.SUBTRACT)


solid = part.part
